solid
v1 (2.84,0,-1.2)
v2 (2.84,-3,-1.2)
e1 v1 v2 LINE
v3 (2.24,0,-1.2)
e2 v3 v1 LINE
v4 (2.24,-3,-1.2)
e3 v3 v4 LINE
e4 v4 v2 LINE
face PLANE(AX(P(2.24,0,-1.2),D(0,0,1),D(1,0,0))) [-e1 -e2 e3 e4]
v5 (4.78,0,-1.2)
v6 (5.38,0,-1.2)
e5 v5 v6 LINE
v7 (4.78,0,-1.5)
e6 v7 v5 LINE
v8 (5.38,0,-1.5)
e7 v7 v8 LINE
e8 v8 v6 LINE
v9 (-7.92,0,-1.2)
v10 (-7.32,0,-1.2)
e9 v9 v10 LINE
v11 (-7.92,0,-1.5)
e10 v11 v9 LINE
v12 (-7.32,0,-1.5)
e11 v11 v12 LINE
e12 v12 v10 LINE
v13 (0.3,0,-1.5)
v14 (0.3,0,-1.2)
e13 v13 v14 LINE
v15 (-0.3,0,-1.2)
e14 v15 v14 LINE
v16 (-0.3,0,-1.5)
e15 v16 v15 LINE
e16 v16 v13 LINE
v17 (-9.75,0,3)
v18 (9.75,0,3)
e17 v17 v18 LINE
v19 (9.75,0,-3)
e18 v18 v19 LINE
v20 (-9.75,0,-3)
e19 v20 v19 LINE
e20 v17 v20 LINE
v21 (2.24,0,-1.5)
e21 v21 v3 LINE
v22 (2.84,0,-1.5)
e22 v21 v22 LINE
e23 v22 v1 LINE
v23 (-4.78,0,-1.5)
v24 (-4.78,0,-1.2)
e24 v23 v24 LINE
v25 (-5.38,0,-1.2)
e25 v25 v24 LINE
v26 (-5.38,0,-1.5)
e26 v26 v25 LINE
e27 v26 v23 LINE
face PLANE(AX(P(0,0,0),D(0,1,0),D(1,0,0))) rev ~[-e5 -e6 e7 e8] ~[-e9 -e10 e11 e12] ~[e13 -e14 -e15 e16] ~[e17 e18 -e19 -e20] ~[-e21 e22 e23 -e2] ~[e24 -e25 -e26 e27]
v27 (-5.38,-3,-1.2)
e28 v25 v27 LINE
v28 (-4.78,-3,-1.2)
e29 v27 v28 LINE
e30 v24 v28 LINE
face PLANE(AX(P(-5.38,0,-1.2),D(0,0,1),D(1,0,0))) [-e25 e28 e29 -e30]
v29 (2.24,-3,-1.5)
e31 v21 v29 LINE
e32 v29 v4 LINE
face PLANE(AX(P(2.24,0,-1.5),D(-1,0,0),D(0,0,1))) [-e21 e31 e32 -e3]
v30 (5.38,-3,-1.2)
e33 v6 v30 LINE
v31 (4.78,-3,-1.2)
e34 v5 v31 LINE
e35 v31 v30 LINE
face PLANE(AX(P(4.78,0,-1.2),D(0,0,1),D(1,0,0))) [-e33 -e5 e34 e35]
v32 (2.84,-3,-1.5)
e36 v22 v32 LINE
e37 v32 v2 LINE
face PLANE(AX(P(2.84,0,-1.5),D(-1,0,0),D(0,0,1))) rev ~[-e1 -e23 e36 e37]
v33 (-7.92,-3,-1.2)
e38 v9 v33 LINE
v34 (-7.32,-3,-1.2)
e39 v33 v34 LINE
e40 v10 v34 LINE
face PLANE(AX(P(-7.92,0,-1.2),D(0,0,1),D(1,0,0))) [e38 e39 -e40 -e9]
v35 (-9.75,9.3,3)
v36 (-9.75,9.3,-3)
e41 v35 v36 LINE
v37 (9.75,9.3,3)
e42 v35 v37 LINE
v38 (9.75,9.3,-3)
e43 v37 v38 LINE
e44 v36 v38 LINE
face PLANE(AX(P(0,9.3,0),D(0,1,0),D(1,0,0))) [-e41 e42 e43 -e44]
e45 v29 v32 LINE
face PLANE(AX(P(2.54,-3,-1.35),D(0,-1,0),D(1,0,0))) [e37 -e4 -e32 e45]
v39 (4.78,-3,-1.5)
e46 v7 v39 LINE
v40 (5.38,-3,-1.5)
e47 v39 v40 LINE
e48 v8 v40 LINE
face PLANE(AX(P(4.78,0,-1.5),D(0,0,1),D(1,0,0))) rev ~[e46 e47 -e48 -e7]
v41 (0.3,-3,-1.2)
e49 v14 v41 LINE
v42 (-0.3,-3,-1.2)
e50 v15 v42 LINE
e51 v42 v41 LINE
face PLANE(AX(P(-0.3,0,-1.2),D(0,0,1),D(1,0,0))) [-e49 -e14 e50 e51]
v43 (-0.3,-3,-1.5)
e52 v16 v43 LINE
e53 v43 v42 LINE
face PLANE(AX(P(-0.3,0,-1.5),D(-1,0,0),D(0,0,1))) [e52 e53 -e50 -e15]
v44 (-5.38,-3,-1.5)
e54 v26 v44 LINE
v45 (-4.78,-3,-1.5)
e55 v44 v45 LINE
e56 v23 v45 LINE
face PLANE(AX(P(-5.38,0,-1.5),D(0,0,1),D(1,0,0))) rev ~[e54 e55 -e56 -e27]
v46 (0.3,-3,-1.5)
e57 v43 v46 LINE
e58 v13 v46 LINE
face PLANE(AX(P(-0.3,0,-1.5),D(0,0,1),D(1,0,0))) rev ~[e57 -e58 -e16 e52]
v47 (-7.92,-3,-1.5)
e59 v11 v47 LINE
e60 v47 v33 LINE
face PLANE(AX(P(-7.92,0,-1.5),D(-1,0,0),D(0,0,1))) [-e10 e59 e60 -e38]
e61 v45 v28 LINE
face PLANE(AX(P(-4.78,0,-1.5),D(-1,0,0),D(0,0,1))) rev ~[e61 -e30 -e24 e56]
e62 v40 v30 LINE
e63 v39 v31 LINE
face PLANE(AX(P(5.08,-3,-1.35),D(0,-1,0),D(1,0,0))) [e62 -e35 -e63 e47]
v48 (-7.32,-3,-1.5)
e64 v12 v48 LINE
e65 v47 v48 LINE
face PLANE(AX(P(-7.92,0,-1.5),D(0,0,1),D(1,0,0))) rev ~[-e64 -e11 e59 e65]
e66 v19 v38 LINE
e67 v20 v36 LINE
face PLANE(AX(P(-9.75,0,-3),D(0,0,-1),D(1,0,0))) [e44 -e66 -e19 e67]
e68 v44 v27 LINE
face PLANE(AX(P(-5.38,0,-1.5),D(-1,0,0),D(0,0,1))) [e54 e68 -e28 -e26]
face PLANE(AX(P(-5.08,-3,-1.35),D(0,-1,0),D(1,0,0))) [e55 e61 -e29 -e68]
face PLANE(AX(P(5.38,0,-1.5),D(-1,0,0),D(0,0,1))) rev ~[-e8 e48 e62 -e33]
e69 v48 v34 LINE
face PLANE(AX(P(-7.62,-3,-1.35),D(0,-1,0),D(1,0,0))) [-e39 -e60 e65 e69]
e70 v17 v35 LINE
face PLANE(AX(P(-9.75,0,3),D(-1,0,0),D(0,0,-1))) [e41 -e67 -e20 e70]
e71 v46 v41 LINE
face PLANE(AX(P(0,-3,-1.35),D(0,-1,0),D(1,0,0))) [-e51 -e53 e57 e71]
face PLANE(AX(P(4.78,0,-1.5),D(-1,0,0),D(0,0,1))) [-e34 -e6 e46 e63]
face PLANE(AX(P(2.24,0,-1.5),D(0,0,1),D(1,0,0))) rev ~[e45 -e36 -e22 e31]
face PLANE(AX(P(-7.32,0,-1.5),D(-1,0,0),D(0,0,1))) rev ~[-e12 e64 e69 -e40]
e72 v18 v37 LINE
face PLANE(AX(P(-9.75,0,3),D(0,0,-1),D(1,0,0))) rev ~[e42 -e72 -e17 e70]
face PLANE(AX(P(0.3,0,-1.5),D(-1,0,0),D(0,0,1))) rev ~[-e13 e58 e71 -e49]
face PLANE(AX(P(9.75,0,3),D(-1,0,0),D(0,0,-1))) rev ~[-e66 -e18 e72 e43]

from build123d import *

# Parameters (mm, degrees)
SKETCH_1_W      = 19.5
SKETCH_1_H      = 6
EXTRUDE_1_DEPTH = 9.3
SKETCH_2_W      = 0.6
SKETCH_2_H      = 0.3
EXTRUDE_2_DEPTH = 3
EXTRUDE_3_DEPTH = 0.2


with BuildPart() as part:
    # Эскиз1 → Бобышка-Вытянуть1 (new body)
    with BuildSketch(Plane(origin=(0, 0, 0), x_dir=(1, 0, 0), z_dir=(0, 1, 0))):
        Rectangle(SKETCH_1_W, SKETCH_1_H)
    extrude(amount=EXTRUDE_1_DEPTH)

    # Эскиз2 → Бобышка-Вытянуть2 (add)
    with BuildSketch(Plane.XZ):
        with Locations((-7.62, -1.35)):
            Rectangle(SKETCH_2_W, SKETCH_2_H)
        with Locations((-5.08, -1.35)):
            Rectangle(SKETCH_2_W, SKETCH_2_H)
        with Locations((0, -1.35)):
            Rectangle(SKETCH_2_W, SKETCH_2_H)
        with Locations((2.54, -1.35)):
            Rectangle(SKETCH_2_W, SKETCH_2_H)
        with Locations((5.08, -1.35)):
            Rectangle(SKETCH_2_W, SKETCH_2_H)
    extrude(amount=EXTRUDE_2_DEPTH)

    # Эскиз3 → Бобышка-Вытянуть3 (add)
    with BuildSketch(Plane(origin=(0, 9.3, 0), x_dir=(1, 0, 0), z_dir=(0, 1, 0))):
        with BuildLine():
            Line((-5.993653669, -1.1506083), (-5.993653669, 1.495225034))
            Line((-5.993653669, 1.495225034), (-5.726526265, 1.495225034))
            add(Edge.make_bspline(
                [(-5.726526265, 1.495225034), (-5.703199399, 1.494894605), (-5.65827213, 1.494258204), (-5.593328368, 1.490121291), (-5.533294043, 1.482863062), (-5.478257825, 1.472268509), (-5.427978548, 1.459234752), (-5.382722262, 1.442777118), (-5.342163377, 1.423550544), (-5.318249105, 1.407525081), (-5.30675463, 1.39982239)],
                knots=[0, 0, 0, 0, 6.998e-05, 0.000134781, 0.00019513, 0.000251262, 0.000302815, 0.000350769, 0.00039557, 0.000437033, 0.000437033, 0.000437033, 0.000437033], degree=3))
            add(Edge.make_bspline(
                [(-5.30675463, 1.39982239), (-5.291259723, 1.387980041), (-5.259666671, 1.363834307), (-5.216878942, 1.320049614), (-5.176018095, 1.270953839), (-5.138198125, 1.215037198), (-5.103093917, 1.153229673), (-5.069860634, 1.085379539), (-5.040008142, 1.011214307), (-5.012613306, 0.931196499), (-4.987736933, 0.846373762), (-4.966676113, 0.756972928), (-4.948733764, 0.663775398), (-4.933891633, 0.566532567), (-4.922334069, 0.465223791), (-4.913792213, 0.359881256), (-4.909099881, 0.250617555), (-4.908492313, 0.176552723), (-4.908183583, 0.138917442)],
                knots=[0, 0, 0, 0, 5.8439e-05, 0.000119153, 0.000183146, 0.000249888, 0.000321348, 0.000396253, 0.000476369, 0.000561014, 0.000649908, 0.00074144, 0.000836447, 0.000934568, 0.00103647, 0.001142284, 0.001251571, 0.001364475, 0.001364475, 0.001364475, 0.001364475], degree=3))
            add(Edge.make_bspline(
                [(-4.908183583, 0.138917442), (-4.908280711, 0.106227192), (-4.908471905, 0.041877192), (-4.913150802, -0.053011126), (-4.919308515, -0.144931602), (-4.928055359, -0.233911091), (-4.940620124, -0.319900369), (-4.954621979, -0.403063397), (-4.971578805, -0.483169429), (-4.991199381, -0.559859585), (-5.012673437, -0.632560972), (-5.036144523, -0.700772196), (-5.060756945, -0.763964681), (-5.08687661, -0.822459494), (-5.11469083, -0.875845291), (-5.14459931, -0.924137506), (-5.175194817, -0.968146848), (-5.208238178, -1.00695942), (-5.243405122, -1.041684613), (-5.282312993, -1.070675465), (-5.324207669, -1.095483025), (-5.369598006, -1.115586755), (-5.418401512, -1.131573487), (-5.470683253, -1.142394162), (-5.525977989, -1.149628644), (-5.56396405, -1.150276458), (-5.583422299, -1.1506083)],
                knots=[0, 0, 0, 0, 9.8058e-05, 0.000193026, 0.000284939, 0.000374436, 0.000461159, 0.000545593, 0.000627403, 0.000706717, 0.000783019, 0.000854758, 0.000923064, 0.000986404, 0.001046858, 0.001103491, 0.001156725, 0.001207487, 0.001256214, 0.001304658, 0.001352653, 0.001402001, 0.001453289, 0.00150641, 0.00156196, 0.0016203, 0.0016203, 0.0016203, 0.0016203], degree=3))
            Line((-5.583422299, -1.1506083), (-5.993653669, -1.1506083))
        make_face()
        with BuildLine():
            Line((-5.857969908, -0.879240778), (-5.712215868, -0.879240778))
            add(Edge.make_bspline(
                [(-5.712215868, -0.879240778), (-5.691187559, -0.879056917), (-5.650871591, -0.878704415), (-5.592868926, -0.875504605), (-5.539970165, -0.870356677), (-5.491975474, -0.863079212), (-5.449019914, -0.853425769), (-5.410665043, -0.842750873), (-5.377422356, -0.829210676), (-5.358215906, -0.817468128), (-5.349155806, -0.811928913)],
                knots=[0, 0, 0, 0, 6.3081e-05, 0.00012094, 0.000174206, 0.000222481, 0.000266459, 0.00030621, 0.000341843, 0.000373662, 0.000373662, 0.000373662, 0.000373662], degree=3))
            add(Edge.make_bspline(
                [(-5.349155806, -0.811928913), (-5.337504042, -0.803307558), (-5.313789347, -0.785760618), (-5.280583663, -0.754767955), (-5.250258232, -0.718316423), (-5.220506136, -0.67810954), (-5.194552767, -0.631854361), (-5.168983681, -0.581836894), (-5.145554456, -0.526783834), (-5.124665533, -0.467032902), (-5.105604787, -0.403212154), (-5.089398291, -0.335730556), (-5.074936985, -0.265071796), (-5.063189934, -0.190820741), (-5.055092671, -0.112940991), (-5.048787041, -0.03182255), (-5.044151944, 0.052648833), (-5.043963526, 0.110113423), (-5.043867344, 0.139447456)],
                knots=[0, 0, 0, 0, 4.3464e-05, 8.8463e-05, 0.000135833, 0.000185556, 0.000238281, 0.000294694, 0.000354058, 0.000417592, 0.000484502, 0.00055379, 0.00062572, 0.000700832, 0.000779205, 0.000860546, 0.000944925, 0.001032914, 0.001032914, 0.001032914, 0.001032914], degree=3))
            add(Edge.make_bspline(
                [(-5.043867344, 0.139447456), (-5.044257686, 0.170367783), (-5.045023027, 0.230993015), (-5.04851762, 0.320105791), (-5.055303295, 0.405703496), (-5.065721936, 0.487818585), (-5.0773982, 0.566813362), (-5.093024206, 0.642256147), (-5.110894459, 0.714268364), (-5.131375406, 0.782633857), (-5.154756204, 0.846351158), (-5.179273421, 0.905648959), (-5.207154577, 0.959280213), (-5.236388534, 1.0081843), (-5.26864597, 1.051395115), (-5.302252635, 1.09000415), (-5.339137971, 1.122477508), (-5.365409332, 1.140706418), (-5.378306614, 1.149655456)],
                knots=[0, 0, 0, 0, 9.2766e-05, 0.000181886, 0.000267496, 0.000350263, 0.000430171, 0.000506986, 0.000581287, 0.000652715, 0.000720955, 0.000784843, 0.000845053, 0.000902138, 0.000955564, 0.001006622, 0.001055435, 0.001102508, 0.001102508, 0.001102508, 0.001102508], degree=3))
            add(Edge.make_bspline(
                [(-5.378306614, 1.149655456), (-5.388955984, 1.155743208), (-5.411039459, 1.168367307), (-5.448391882, 1.183007997), (-5.490098558, 1.195464632), (-5.536608314, 1.206268717), (-5.588034553, 1.213841748), (-5.644095768, 1.219565094), (-5.704918011, 1.223470072), (-5.747013657, 1.223724871), (-5.76892744, 1.223857512)],
                knots=[0, 0, 0, 0, 3.6759e-05, 7.6226e-05, 0.000119987, 0.000167301, 0.000219323, 0.000275807, 0.000336342, 0.000402072, 0.000402072, 0.000402072, 0.000402072], degree=3))
            Line((-5.76892744, 1.223857512), (-5.857969908, 1.223857512))
            Line((-5.857969908, 1.223857512), (-5.857969908, -0.879240778))
        make_face(mode=Mode.SUBTRACT)
        with BuildLine():
            Line((-3.415662216, 1.009731578), (-3.519545095, 0.850727171))
            add(Edge.make_bspline(
                [(-3.519545095, 0.850727171), (-3.534179354, 0.884905992), (-3.562170932, 0.950281296), (-3.611133312, 1.040000729), (-3.665533305, 1.116106536), (-3.72384652, 1.179351808), (-3.785927203, 1.2295169), (-3.851769423, 1.265264449), (-3.920886372, 1.287938638), (-3.968476618, 1.290444177), (-3.992318199, 1.291699393)],
                knots=[0, 0, 0, 0, 0.000111505, 0.00021328, 0.000305946, 0.000391448, 0.000470663, 0.000544181, 0.000615258, 0.000686614, 0.000686614, 0.000686614, 0.000686614], degree=3))
            add(Edge.make_bspline(
                [(-3.992318199, 1.291699393), (-4.005431836, 1.291384283), (-4.03169845, 1.290753119), (-4.070396571, 1.282732829), (-4.108512905, 1.271147784), (-4.145817601, 1.254474313), (-4.182279862, 1.233158987), (-4.218304257, 1.207461497), (-4.252957775, 1.176608367), (-4.299075833, 1.128977162), (-4.352642098, 1.059690199), (-4.408114943, 0.964195578), (-4.457114694, 0.856544197), (-4.497127403, 0.73650285), (-4.529213424, 0.606387938), (-4.552370998, 0.467849217), (-4.566279092, 0.321350851), (-4.568060213, 0.221100812), (-4.568974182, 0.169658294)],
                knots=[0, 0, 0, 0, 3.9278e-05, 7.8675e-05, 0.000118071, 0.000158647, 0.000200919, 0.000244603, 0.000291171, 0.000339898, 0.000443375, 0.000552908, 0.000670553, 0.000797599, 0.000931932, 0.001072217, 0.001218621, 0.001372929, 0.001372929, 0.001372929, 0.001372929], degree=3))
            add(Edge.make_bspline(
                [(-4.568974182, 0.169658294), (-4.568505048, 0.130597956), (-4.567586992, 0.054160166), (-4.559240598, -0.057952809), (-4.546936059, -0.165048085), (-4.528789063, -0.267326934), (-4.505707102, -0.364750482), (-4.477047103, -0.45737923), (-4.443102256, -0.544809514), (-4.404897438, -0.626691155), (-4.362284373, -0.700931952), (-4.317155352, -0.766581502), (-4.268464955, -0.821815298), (-4.217519197, -0.867484278), (-4.163381985, -0.903364651), (-4.106076555, -0.928124148), (-4.046251249, -0.944766536), (-4.0051504, -0.946304829), (-3.984367978, -0.947082659)],
                knots=[0, 0, 0, 0, 0.000117163, 0.000229279, 0.000337095, 0.000440441, 0.000540713, 0.000637275, 0.000731075, 0.000821883, 0.000908068, 0.000987615, 0.00106046, 0.00112842, 0.001192368, 0.001254309, 0.001315115, 0.00137731, 0.00137731, 0.00137731, 0.00137731], degree=3))
            add(Edge.make_bspline(
                [(-3.984367978, -0.947082659), (-3.961591638, -0.945772388), (-3.91597232, -0.943148013), (-3.849479838, -0.921072886), (-3.786097826, -0.886024876), (-3.72623861, -0.836482885), (-3.669438198, -0.773568722), (-3.615488809, -0.697122197), (-3.564594685, -0.606919476), (-3.53506219, -0.540833581), (-3.519545095, -0.506110436)],
                knots=[0, 0, 0, 0, 6.8191e-05, 0.000136581, 0.000207984, 0.00028447, 0.000368503, 0.0004616, 0.000564616, 0.000678669, 0.000678669, 0.000678669, 0.000678669], degree=3))
            Line((-3.519545095, -0.506110436), (-3.415662216, -0.663524799))
            add(Edge.make_bspline(
                [(-3.415662216, -0.663524799), (-3.423957596, -0.684978718), (-3.440269776, -0.727166079), (-3.467335967, -0.787728881), (-3.495194986, -0.84501035), (-3.525867748, -0.89780762), (-3.556548419, -0.947988701), (-3.590310996, -0.993379854), (-3.624691432, -1.035567179), (-3.660650472, -1.073847065), (-3.698141543, -1.107588466), (-3.736619231, -1.137280461), (-3.77637805, -1.161955477), (-3.816885086, -1.183164813), (-3.85890478, -1.199070077), (-3.902132842, -1.210062204), (-3.946310126, -1.217400972), (-3.976211705, -1.218098955), (-3.991258169, -1.21845018)],
                knots=[0, 0, 0, 0, 6.8994e-05, 0.00013567, 0.000198958, 0.000259965, 0.000318787, 0.00037529, 0.000429512, 0.000482002, 0.000532665, 0.000580686, 0.000627598, 0.000672873, 0.000717662, 0.000762012, 0.00080654, 0.000851641, 0.000851641, 0.000851641, 0.000851641], degree=3))
            add(Edge.make_bspline(
                [(-3.991258169, -1.21845018), (-4.019498028, -1.217044905), (-4.0752501, -1.214270565), (-4.156243448, -1.191380627), (-4.232478086, -1.154894405), (-4.303933806, -1.103497233), (-4.369809131, -1.03705277), (-4.431329731, -0.956814193), (-4.488334905, -0.862118671), (-4.520381829, -0.792319622), (-4.5371733, -0.755747355)],
                knots=[0, 0, 0, 0, 8.4598e-05, 0.000167017, 0.000250464, 0.000337091, 0.000429662, 0.000530164, 0.000639786, 0.000760445, 0.000760445, 0.000760445, 0.000760445], degree=3))
            add(Edge.make_bspline(
                [(-4.5371733, -0.755747355), (-4.550705935, -0.722524172), (-4.578175766, -0.655084593), (-4.611354565, -0.549272101), (-4.641067127, -0.438918067), (-4.663731428, -0.323171427), (-4.682780542, -0.202666631), (-4.694840811, -0.076988272), (-4.7032721, 0.053646598), (-4.704190154, 0.142436449), (-4.704657942, 0.187678793)],
                knots=[0, 0, 0, 0, 0.000107577, 0.000218371, 0.000332403, 0.000450276, 0.000572011, 0.000698267, 0.000828893, 0.000964602, 0.000964602, 0.000964602, 0.000964602], degree=3))
            add(Edge.make_bspline(
                [(-4.704657942, 0.187678793), (-4.704071921, 0.235219874), (-4.702922615, 0.328457448), (-4.693182896, 0.465378871), (-4.677450347, 0.596485968), (-4.655352591, 0.721825733), (-4.626464582, 0.841351733), (-4.592607123, 0.955511927), (-4.550817993, 1.063548764), (-4.503763829, 1.164964211), (-4.452114913, 1.257588782), (-4.39660512, 1.338869898), (-4.33732567, 1.407454084), (-4.27538001, 1.464439326), (-4.209548403, 1.508797556), (-4.140164332, 1.539888447), (-4.067577761, 1.559396918), (-4.017878723, 1.561837656), (-3.992848213, 1.563066914)],
                knots=[0, 0, 0, 0, 0.000142609, 0.000279686, 0.000411561, 0.00053861, 0.00066125, 0.000780297, 0.000895559, 0.001008427, 0.001115455, 0.00121337, 0.001303168, 0.001386845, 0.001465196, 0.00154016, 0.001614078, 0.00168908, 0.00168908, 0.00168908, 0.00168908], degree=3))
            add(Edge.make_bspline(
                [(-3.992848213, 1.563066914), (-3.977627939, 1.562703678), (-3.947380615, 1.561981816), (-3.902594067, 1.554813267), (-3.859097397, 1.543179618), (-3.816832763, 1.526858437), (-3.775181493, 1.507110913), (-3.73550092, 1.4809088), (-3.696205136, 1.451551931), (-3.658548924, 1.417201519), (-3.62206409, 1.379288724), (-3.587540342, 1.337134575), (-3.554988139, 1.291302038), (-3.522540397, 1.242799461), (-3.494096057, 1.189331801), (-3.46554633, 1.133068857), (-3.43918824, 1.072902791), (-3.423587095, 1.031011171), (-3.415662216, 1.009731578)],
                knots=[0, 0, 0, 0, 4.5631e-05, 9.0682e-05, 0.00013568, 0.000180469, 0.000226455, 0.00027365, 0.000322836, 0.000373499, 0.000426354, 0.000480576, 0.000536768, 0.000594983, 0.000655472, 0.000718285, 0.000784263, 0.000852377, 0.000852377, 0.000852377, 0.000852377], degree=3))
        make_face()
        with BuildLine():
            Line((-1.448247686, 1.009731578), (-1.552130565, 0.850727171))
            add(Edge.make_bspline(
                [(-1.552130565, 0.850727171), (-1.566764824, 0.884905992), (-1.594756402, 0.950281296), (-1.643718782, 1.040000729), (-1.698118775, 1.116106536), (-1.75643199, 1.179351808), (-1.818512673, 1.2295169), (-1.884354893, 1.265264449), (-1.953471842, 1.287938638), (-2.001062088, 1.290444177), (-2.024903669, 1.291699393)],
                knots=[0, 0, 0, 0, 0.000111505, 0.00021328, 0.000305946, 0.000391448, 0.000470663, 0.000544181, 0.000615258, 0.000686614, 0.000686614, 0.000686614, 0.000686614], degree=3))
            add(Edge.make_bspline(
                [(-2.024903669, 1.291699393), (-2.038017306, 1.291384283), (-2.06428392, 1.290753119), (-2.102982041, 1.282732829), (-2.141098375, 1.271147784), (-2.178403071, 1.254474313), (-2.214865332, 1.233158987), (-2.250889728, 1.207461497), (-2.285543246, 1.176608367), (-2.331661303, 1.128977162), (-2.385227568, 1.059690199), (-2.440700413, 0.964195578), (-2.489700164, 0.856544197), (-2.529712873, 0.73650285), (-2.561798894, 0.606387938), (-2.584956468, 0.467849217), (-2.598864562, 0.321350851), (-2.600645683, 0.221100812), (-2.601559652, 0.169658294)],
                knots=[0, 0, 0, 0, 3.9278e-05, 7.8675e-05, 0.000118071, 0.000158647, 0.000200919, 0.000244603, 0.000291171, 0.000339898, 0.000443375, 0.000552908, 0.000670553, 0.000797599, 0.000931932, 0.001072217, 0.001218621, 0.001372929, 0.001372929, 0.001372929, 0.001372929], degree=3))
            add(Edge.make_bspline(
                [(-2.601559652, 0.169658294), (-2.601090518, 0.130597956), (-2.600172462, 0.054160166), (-2.591826069, -0.057952809), (-2.579521529, -0.165048085), (-2.561374533, -0.267326934), (-2.538292572, -0.364750482), (-2.509632573, -0.45737923), (-2.475687726, -0.544809514), (-2.437482908, -0.626691155), (-2.394869843, -0.700931952), (-2.349740822, -0.766581502), (-2.301050425, -0.821815298), (-2.250104667, -0.867484278), (-2.195967455, -0.903364651), (-2.138662025, -0.928124148), (-2.078836719, -0.944766536), (-2.03773587, -0.946304829), (-2.016953448, -0.947082659)],
                knots=[0, 0, 0, 0, 0.000117163, 0.000229279, 0.000337095, 0.000440441, 0.000540713, 0.000637275, 0.000731075, 0.000821883, 0.000908068, 0.000987615, 0.00106046, 0.00112842, 0.001192368, 0.001254309, 0.001315115, 0.00137731, 0.00137731, 0.00137731, 0.00137731], degree=3))
            add(Edge.make_bspline(
                [(-2.016953448, -0.947082659), (-1.994177108, -0.945772388), (-1.94855779, -0.943148013), (-1.882065308, -0.921072886), (-1.818683296, -0.886024876), (-1.75882408, -0.836482885), (-1.702023668, -0.773568722), (-1.648074279, -0.697122197), (-1.597180155, -0.606919476), (-1.56764766, -0.540833581), (-1.552130565, -0.506110436)],
                knots=[0, 0, 0, 0, 6.8191e-05, 0.000136581, 0.000207984, 0.00028447, 0.000368503, 0.0004616, 0.000564616, 0.000678669, 0.000678669, 0.000678669, 0.000678669], degree=3))
            Line((-1.552130565, -0.506110436), (-1.448247686, -0.663524799))
            add(Edge.make_bspline(
                [(-1.448247686, -0.663524799), (-1.456543066, -0.684978718), (-1.472855246, -0.727166079), (-1.499921437, -0.787728881), (-1.527780456, -0.84501035), (-1.558453218, -0.89780762), (-1.589133889, -0.947988701), (-1.622896466, -0.993379854), (-1.657276903, -1.035567179), (-1.693235942, -1.073847065), (-1.730727013, -1.107588466), (-1.769204701, -1.137280461), (-1.80896352, -1.161955477), (-1.849470556, -1.183164813), (-1.89149025, -1.199070077), (-1.934718312, -1.210062204), (-1.978895596, -1.217400972), (-2.008797175, -1.218098955), (-2.023843639, -1.21845018)],
                knots=[0, 0, 0, 0, 6.8994e-05, 0.00013567, 0.000198958, 0.000259965, 0.000318787, 0.00037529, 0.000429512, 0.000482002, 0.000532665, 0.000580686, 0.000627598, 0.000672873, 0.000717662, 0.000762012, 0.00080654, 0.000851641, 0.000851641, 0.000851641, 0.000851641], degree=3))
            add(Edge.make_bspline(
                [(-2.023843639, -1.21845018), (-2.052083499, -1.217044905), (-2.10783557, -1.214270565), (-2.188828918, -1.191380627), (-2.265063556, -1.154894405), (-2.336519276, -1.103497233), (-2.402394601, -1.03705277), (-2.463915201, -0.956814193), (-2.520920375, -0.862118671), (-2.552967299, -0.792319622), (-2.56975877, -0.755747355)],
                knots=[0, 0, 0, 0, 8.4598e-05, 0.000167017, 0.000250464, 0.000337091, 0.000429662, 0.000530164, 0.000639786, 0.000760445, 0.000760445, 0.000760445, 0.000760445], degree=3))
            add(Edge.make_bspline(
                [(-2.56975877, -0.755747355), (-2.583291406, -0.722524172), (-2.610761236, -0.655084593), (-2.643940035, -0.549272101), (-2.673652597, -0.438918067), (-2.696316898, -0.323171427), (-2.715366012, -0.202666631), (-2.727426281, -0.076988272), (-2.73585757, 0.053646598), (-2.736775624, 0.142436449), (-2.737243412, 0.187678793)],
                knots=[0, 0, 0, 0, 0.000107577, 0.000218371, 0.000332403, 0.000450276, 0.000572011, 0.000698267, 0.000828893, 0.000964602, 0.000964602, 0.000964602, 0.000964602], degree=3))
            add(Edge.make_bspline(
                [(-2.737243412, 0.187678793), (-2.736657391, 0.235219874), (-2.735508085, 0.328457448), (-2.725768366, 0.465378871), (-2.710035817, 0.596485968), (-2.687938062, 0.721825733), (-2.659050052, 0.841351733), (-2.625192593, 0.955511927), (-2.583403463, 1.063548764), (-2.536349299, 1.164964211), (-2.484700383, 1.257588782), (-2.42919059, 1.338869898), (-2.36991114, 1.407454084), (-2.307965481, 1.464439326), (-2.242133873, 1.508797556), (-2.172749802, 1.539888447), (-2.100163231, 1.559396918), (-2.050464193, 1.561837656), (-2.025433684, 1.563066914)],
                knots=[0, 0, 0, 0, 0.000142609, 0.000279686, 0.000411561, 0.00053861, 0.00066125, 0.000780297, 0.000895559, 0.001008427, 0.001115455, 0.00121337, 0.001303168, 0.001386845, 0.001465196, 0.00154016, 0.001614078, 0.00168908, 0.00168908, 0.00168908, 0.00168908], degree=3))
            add(Edge.make_bspline(
                [(-2.025433684, 1.563066914), (-2.010213409, 1.562703678), (-1.979966085, 1.561981816), (-1.935179537, 1.554813267), (-1.891682868, 1.543179618), (-1.849418233, 1.526858437), (-1.807766963, 1.507110913), (-1.76808639, 1.4809088), (-1.728790606, 1.451551931), (-1.691134394, 1.417201519), (-1.65464956, 1.379288724), (-1.620125812, 1.337134575), (-1.587573609, 1.291302038), (-1.555125867, 1.242799461), (-1.526681527, 1.189331801), (-1.4981318, 1.133068857), (-1.47177371, 1.072902791), (-1.456172565, 1.031011171), (-1.448247686, 1.009731578)],
                knots=[0, 0, 0, 0, 4.5631e-05, 9.0682e-05, 0.00013568, 0.000180469, 0.000226455, 0.00027365, 0.000322836, 0.000373499, 0.000426354, 0.000480576, 0.000536768, 0.000594983, 0.000655472, 0.000718285, 0.000784263, 0.000852377, 0.000852377, 0.000852377, 0.000852377], degree=3))
        make_face()
        with BuildLine():
            add(Edge.make_bspline(
                [(-0.786259338, 0.81680623), (-0.768295824, 0.81600169), (-0.732566431, 0.81440146), (-0.680834558, 0.797931704), (-0.631820933, 0.772336496), (-0.584557205, 0.737517515), (-0.540776603, 0.69167794), (-0.499317995, 0.636359406), (-0.460000564, 0.571323038), (-0.437251962, 0.523403355), (-0.425319334, 0.498267402)],
                knots=[0, 0, 0, 0, 5.3744e-05, 0.000106896, 0.00016118, 0.000219166, 0.000282133, 0.000350611, 0.000426238, 0.000509673, 0.000509673, 0.000509673, 0.000509673], degree=3))
            add(Edge.make_bspline(
                [(-0.425319334, 0.498267402), (-0.414728297, 0.473668234), (-0.393285396, 0.423864093), (-0.367227345, 0.345950642), (-0.344949151, 0.264885756), (-0.326032015, 0.180605301), (-0.313037159, 0.092656107), (-0.301778331, 0.001715256), (-0.296325548, -0.092631811), (-0.295403832, -0.15664916), (-0.29493572, -0.189161652)],
                knots=[0, 0, 0, 0, 8.0318e-05, 0.000162614, 0.000246195, 0.000332485, 0.00042154, 0.00051279, 0.000607313, 0.000704858, 0.000704858, 0.000704858, 0.000704858], degree=3))
            add(Edge.make_bspline(
                [(-0.29493572, -0.189161652), (-0.295349578, -0.221853946), (-0.296164678, -0.286241839), (-0.302406615, -0.381280091), (-0.313947295, -0.473153634), (-0.328136117, -0.562148356), (-0.348363023, -0.647748537), (-0.37105115, -0.730502442), (-0.399616521, -0.809793204), (-0.431334519, -0.885135131), (-0.466002773, -0.954682557), (-0.504376532, -1.015419427), (-0.54439823, -1.067563046), (-0.587749138, -1.110045823), (-0.633497994, -1.143475031), (-0.68201447, -1.167387439), (-0.73332845, -1.181735338), (-0.768503084, -1.183591994), (-0.786259338, -1.18452924)],
                knots=[0, 0, 0, 0, 9.8076e-05, 0.000193161, 0.000285527, 0.000375798, 0.000463354, 0.000549262, 0.000633082, 0.000715969, 0.000794428, 0.000865891, 0.000931204, 0.000991173, 0.001047364, 0.001100461, 0.001152664, 0.00120588, 0.00120588, 0.00120588, 0.00120588], degree=3))
            add(Edge.make_bspline(
                [(-0.786259338, -1.18452924), (-0.804011064, -1.183573351), (-0.839347322, -1.181670576), (-0.890886446, -1.167497137), (-0.939563391, -1.143481638), (-0.985339642, -1.109901724), (-1.029169741, -1.067601137), (-1.069769751, -1.015582232), (-1.108089348, -0.954665248), (-1.142724365, -0.885122221), (-1.174700554, -0.80992249), (-1.202146645, -0.73027545), (-1.226196077, -0.647953081), (-1.244970492, -0.561981879), (-1.260604899, -0.473275738), (-1.270903559, -0.381222106), (-1.277484843, -0.286251606), (-1.278252974, -0.221857236), (-1.278642985, -0.189161652)],
                knots=[0, 0, 0, 0, 5.3216e-05, 0.00010593, 0.000159027, 0.000215219, 0.000275568, 0.000341209, 0.000412672, 0.000491131, 0.000574018, 0.000657661, 0.000743715, 0.000831155, 0.000921514, 0.001013817, 0.001108903, 0.001206978, 0.001206978, 0.001206978, 0.001206978], degree=3))
            add(Edge.make_bspline(
                [(-1.278642985, -0.189161652), (-1.278178442, -0.156824813), (-1.277261294, -0.092982179), (-1.271726731, 0.001172955), (-1.260822889, 0.092024459), (-1.246682351, 0.179421159), (-1.228663621, 0.263684197), (-1.206507249, 0.344591254), (-1.180178476, 0.422410198), (-1.158834277, 0.472072399), (-1.148259371, 0.496677358)],
                knots=[0, 0, 0, 0, 9.7016e-05, 0.000191538, 0.000282789, 0.000371404, 0.000457064, 0.000541156, 0.00062295, 0.000703268, 0.000703268, 0.000703268, 0.000703268], degree=3))
            add(Edge.make_bspline(
                [(-1.148259371, 0.496677358), (-1.136349283, 0.522002036), (-1.113704774, 0.570151549), (-1.074129905, 0.635502295), (-1.032470577, 0.691022688), (-0.988335287, 0.736710879), (-0.941784971, 0.772713123), (-0.892146266, 0.797870409), (-0.840124761, 0.814365676), (-0.804223805, 0.81599229), (-0.786259338, 0.81680623)],
                knots=[0, 0, 0, 0, 8.391e-05, 0.000159537, 0.000228758, 0.000291725, 0.000349604, 0.000404359, 0.000458019, 0.000511763, 0.000511763, 0.000511763, 0.000511763], degree=3))
        make_face()
        with BuildLine():
            add(Edge.make_bspline(
                [(-0.786789353, 0.579359649), (-0.798886218, 0.578626652), (-0.82301766, 0.577164431), (-0.858223157, 0.565790098), (-0.891985195, 0.54813109), (-0.924214219, 0.522841727), (-0.955425443, 0.491122233), (-0.984444916, 0.45166165), (-1.012618435, 0.40574868), (-1.03916386, 0.353446946), (-1.063119203, 0.295895135), (-1.08500333, 0.23517698), (-1.103007324, 0.171409901), (-1.117135786, 0.10458493), (-1.128804156, 0.034930636), (-1.137341087, -0.03775207), (-1.142056769, -0.113305513), (-1.142654463, -0.164597934), (-1.142959224, -0.190751696)],
                knots=[0, 0, 0, 0, 3.6231e-05, 7.2276e-05, 0.000109971, 0.000150042, 0.000194642, 0.000243086, 0.000296628, 0.000356124, 0.000418829, 0.000483539, 0.000549644, 0.000617424, 0.000688351, 0.000761457, 0.00083687, 0.000915328, 0.000915328, 0.000915328, 0.000915328], degree=3))
            add(Edge.make_bspline(
                [(-1.142959224, -0.190751696), (-1.142326427, -0.224516359), (-1.141078433, -0.291106612), (-1.131865071, -0.389182871), (-1.117149789, -0.483748531), (-1.096763284, -0.57357852), (-1.071413696, -0.656915723), (-1.040686032, -0.730903139), (-1.007123923, -0.795724965), (-0.968484024, -0.849369276), (-0.926864889, -0.892616434), (-0.88217378, -0.923391467), (-0.835469388, -0.943959249), (-0.80288704, -0.946049798), (-0.786789353, -0.947082659)],
                knots=[0, 0, 0, 0, 0.000101283, 0.000199749, 0.000295251, 0.000388211, 0.000475888, 0.000556206, 0.000628288, 0.000694338, 0.000753929, 0.000807295, 0.000856506, 0.000904562, 0.000904562, 0.000904562, 0.000904562], degree=3))
            add(Edge.make_bspline(
                [(-0.786789353, -0.947082659), (-0.77069017, -0.946051352), (-0.738104797, -0.943963948), (-0.691424169, -0.923371461), (-0.646733496, -0.892772774), (-0.605620341, -0.849183125), (-0.567073213, -0.795601378), (-0.532659256, -0.731179148), (-0.50286572, -0.656761062), (-0.477438741, -0.573529964), (-0.456264431, -0.483823389), (-0.441761172, -0.389172967), (-0.432487835, -0.291109204), (-0.431248093, -0.224517231), (-0.430619481, -0.190751696)],
                knots=[0, 0, 0, 0, 4.8056e-05, 9.7268e-05, 0.000150634, 0.000209853, 0.000275903, 0.000348236, 0.000428353, 0.00051603, 0.000609109, 0.000704611, 0.000803077, 0.00090436, 0.00090436, 0.00090436, 0.00090436], degree=3))
            add(Edge.make_bspline(
                [(-0.430619481, -0.190751696), (-0.430925486, -0.16459819), (-0.431525619, -0.11330627), (-0.43622373, -0.037749215), (-0.444824287, 0.034920411), (-0.456272696, 0.104658662), (-0.471208982, 0.171356384), (-0.489265037, 0.235049505), (-0.51018443, 0.296139923), (-0.535093194, 0.353316751), (-0.561497144, 0.405725377), (-0.589562433, 0.451883468), (-0.619282428, 0.490756408), (-0.649875101, 0.523027156), (-0.68215154, 0.548104718), (-0.715878749, 0.56579737), (-0.750923549, 0.577105458), (-0.774871983, 0.578610634), (-0.786789353, 0.579359649)],
                knots=[0, 0, 0, 0, 7.8458e-05, 0.000153871, 0.000226977, 0.000297904, 0.000365798, 0.000431903, 0.000496436, 0.00055935, 0.000618846, 0.000672388, 0.000721152, 0.000765382, 0.000805454, 0.000843148, 0.000879193, 0.000914897, 0.000914897, 0.000914897, 0.000914897], degree=3))
        make_face(mode=Mode.SUBTRACT)
        with BuildLine():
            Line((-0.057489139, 0.78288529), (0.078194622, 0.78288529))
            Line((0.078194622, 0.78288529), (0.078194622, 0.434135624))
            add(Edge.make_bspline(
                [(0.078194622, 0.434135624), (0.090473003, 0.465415577), (0.113637798, 0.524429355), (0.152949616, 0.604831872), (0.194834574, 0.671538016), (0.238889072, 0.724881992), (0.285305471, 0.765981762), (0.333906321, 0.795133405), (0.385061357, 0.813338806), (0.420090417, 0.815653081), (0.437544582, 0.81680623)],
                knots=[0, 0, 0, 0, 0.000100786, 0.000190147, 0.000268074, 0.000336546, 0.000397026, 0.00045311, 0.000505739, 0.000558007, 0.000558007, 0.000558007, 0.000558007], degree=3))
            add(Edge.make_bspline(
                [(0.437544582, 0.81680623), (0.455045862, 0.815427277), (0.490332639, 0.812646977), (0.541313346, 0.791060513), (0.58784322, 0.755227665), (0.630597175, 0.706886804), (0.668635136, 0.647182672), (0.702902382, 0.578089279), (0.729745898, 0.498723058), (0.748524014, 0.426327988), (0.761213854, 0.361580804), (0.768691001, 0.305613031), (0.775834597, 0.243267015), (0.780778935, 0.174469796), (0.78505622, 0.099200266), (0.788120457, 0.017386139), (0.790404417, -0.070778848), (0.790490142, -0.13174174), (0.790534365, -0.163190932)],
                knots=[0, 0, 0, 0, 5.2396e-05, 0.000105644, 0.000163203, 0.000227379, 0.000298237, 0.000375036, 0.000458179, 0.000549065, 0.000599271, 0.000656013, 0.000718406, 0.000787511, 0.000862893, 0.000944577, 0.001033115, 0.001127459, 0.001127459, 0.001127459, 0.001127459], degree=3))
            Line((0.790534365, -0.163190932), (0.790534365, -1.1506083))
            Line((0.790534365, -1.1506083), (0.654850605, -1.1506083))
            Line((0.654850605, -1.1506083), (0.654850605, -0.241103091))
            add(Edge.make_bspline(
                [(0.654850605, -0.241103091), (0.654901746, -0.214778869), (0.654999567, -0.164426518), (0.654336012, -0.092345224), (0.653763884, -0.02697789), (0.653483685, 0.031507299), (0.65219473, 0.083088841), (0.651385129, 0.127800377), (0.649722976, 0.165603399), (0.648504281, 0.188562951), (0.647960414, 0.198809102)],
                knots=[0, 0, 0, 0, 7.8972e-05, 0.000151056, 0.00021625, 0.000275084, 0.000326506, 0.00037104, 0.000409234, 0.000440016, 0.000440016, 0.000440016, 0.000440016], degree=3))
            add(Edge.make_bspline(
                [(0.647960414, 0.198809102), (0.64571324, 0.228557571), (0.641486532, 0.28451144), (0.62687992, 0.362254523), (0.606153204, 0.428513347), (0.578600593, 0.482865252), (0.545764184, 0.526038935), (0.507034395, 0.556869493), (0.463086331, 0.576376873), (0.43173428, 0.578355115), (0.415813979, 0.579359649)],
                knots=[0, 0, 0, 0, 8.9445e-05, 0.000168238, 0.00023679, 0.000297, 0.000350226, 0.000398154, 0.000444225, 0.000491756, 0.000491756, 0.000491756, 0.000491756], degree=3))
            add(Edge.make_bspline(
                [(0.415813979, 0.579359649), (0.406406609, 0.579000598), (0.387683893, 0.578286007), (0.360081539, 0.570938273), (0.33358275, 0.559116182), (0.307478381, 0.542965196), (0.283097594, 0.521327564), (0.258056496, 0.496442104), (0.235236892, 0.465799284), (0.204330303, 0.41932629), (0.17016809, 0.353300208), (0.137666461, 0.265797944), (0.111887842, 0.169787872), (0.101560782, 0.102299758), (0.096215121, 0.067365458)],
                knots=[0, 0, 0, 0, 2.8171e-05, 5.6066e-05, 8.5018e-05, 0.000115019, 0.00014773, 0.000182586, 0.000220751, 0.000262058, 0.000350012, 0.000442939, 0.000541675, 0.000647632, 0.000647632, 0.000647632, 0.000647632], degree=3))
            add(Edge.make_bspline(
                [(0.096215121, 0.067365458), (0.094722013, 0.054299406), (0.091458026, 0.02573656), (0.088018321, -0.020765347), (0.084618429, -0.074640369), (0.082974455, -0.135808744), (0.080627648, -0.204343685), (0.078962715, -0.280139749), (0.078777293, -0.363360428), (0.078394295, -0.421308327), (0.078194622, -0.451518923)],
                knots=[0, 0, 0, 0, 3.945e-05, 8.6238e-05, 0.000139864, 0.000201382, 0.000269787, 0.000345596, 0.00042881, 0.000519444, 0.000519444, 0.000519444, 0.000519444], degree=3))
            Line((0.078194622, -0.451518923), (0.078194622, -1.1506083))
            Line((0.078194622, -1.1506083), (-0.057489139, -1.1506083))
            Line((-0.057489139, -1.1506083), (-0.057489139, 0.78288529))
        make_face()
        Polygon((0.960139066, 0.78288529), (1.109073194, 0.78288529), (1.418071759, -0.572362273), (1.727070323, 0.78288529), (1.876004451, 0.78288529), (1.435032229, -1.1506083), (1.401111288, -1.1506083), align=None)
        with BuildLine():
            Line((2.889922553, -0.540031376), (2.995395476, -0.650804447))
            add(Edge.make_bspline(
                [(2.995395476, -0.650804447), (2.986843686, -0.680395232), (2.970487553, -0.736990493), (2.942521837, -0.817003839), (2.912057191, -0.887868362), (2.879457332, -0.949958174), (2.845538594, -1.004400122), (2.808633959, -1.051024034), (2.770596064, -1.092025781), (2.729664271, -1.125657126), (2.686351339, -1.152060238), (2.640309908, -1.171116269), (2.591364043, -1.182420247), (2.557661232, -1.183821614), (2.540642872, -1.18452924)],
                knots=[0, 0, 0, 0, 9.2394e-05, 0.000176713, 0.000254103, 0.000323567, 0.000386941, 0.00044621, 0.000501698, 0.000554428, 0.000604603, 0.000653324, 0.00070334, 0.000754356, 0.000754356, 0.000754356, 0.000754356], degree=3))
            add(Edge.make_bspline(
                [(2.540642872, -1.18452924), (2.521647414, -1.183640859), (2.484157345, -1.181887521), (2.429827944, -1.167040394), (2.379028756, -1.142547769), (2.331434963, -1.108631038), (2.287208639, -1.064982098), (2.246363966, -1.011876656), (2.208773445, -0.949358119), (2.175199734, -0.878407616), (2.14487345, -0.80181485), (2.118547256, -0.721543549), (2.095394935, -0.638913847), (2.077792903, -0.553454635), (2.063477122, -0.465928955), (2.052550216, -0.375963316), (2.046997499, -0.283399275), (2.046075144, -0.220792035), (2.045609152, -0.189161652)],
                knots=[0, 0, 0, 0, 5.6912e-05, 0.000112323, 0.000167559, 0.000225353, 0.000286821, 0.000353295, 0.000425831, 0.000505245, 0.00058851, 0.000672815, 0.000758581, 0.000845796, 0.000934411, 0.001024609, 0.001117544, 0.001212441, 0.001212441, 0.001212441, 0.001212441], degree=3))
            add(Edge.make_bspline(
                [(2.045609152, -0.189161652), (2.045873668, -0.15947328), (2.04639684, -0.100754205), (2.051786754, -0.01391278), (2.060890014, 0.070583535), (2.073022901, 0.152637188), (2.088213979, 0.232307843), (2.107431802, 0.309412503), (2.130019131, 0.384099099), (2.148006457, 0.4324547), (2.156912237, 0.456396241)],
                knots=[0, 0, 0, 0, 8.9057e-05, 0.000176141, 0.000260893, 0.000343945, 0.000424919, 0.000504105, 0.000582235, 0.000658852, 0.000658852, 0.000658852, 0.000658852], degree=3))
            add(Edge.make_bspline(
                [(2.156912237, 0.456396241), (2.168632995, 0.484695311), (2.191034257, 0.538781819), (2.230346554, 0.612710631), (2.273772183, 0.674835599), (2.319012731, 0.726769821), (2.368669983, 0.766678288), (2.420853593, 0.796196308), (2.477065364, 0.813266793), (2.515446352, 0.815619232), (2.534812711, 0.81680623)],
                knots=[0, 0, 0, 0, 9.1865e-05, 0.000175578, 0.000250565, 0.000318877, 0.000381455, 0.00044076, 0.00049777, 0.000555835, 0.000555835, 0.000555835, 0.000555835], degree=3))
            add(Edge.make_bspline(
                [(2.534812711, 0.81680623), (2.554748952, 0.815766124), (2.594405397, 0.813697184), (2.65183856, 0.794307188), (2.706052042, 0.764148707), (2.757036124, 0.721954325), (2.803761609, 0.667157498), (2.84741589, 0.600847797), (2.889054115, 0.523315753), (2.911878401, 0.466198207), (2.923843493, 0.436255683)],
                knots=[0, 0, 0, 0, 5.9647e-05, 0.000118648, 0.000179857, 0.000245006, 0.000316006, 0.000395092, 0.000482825, 0.000579493, 0.000579493, 0.000579493, 0.000579493], degree=3))
            add(Edge.make_bspline(
                [(2.923843493, 0.436255683), (2.932239182, 0.413201379), (2.949323145, 0.366289341), (2.97040868, 0.292615183), (2.988276388, 0.214921509), (3.003065321, 0.133027608), (3.014880028, 0.047109802), (3.022341437, -0.043136194), (3.02798877, -0.137504611), (3.028867626, -0.201873), (3.029316417, -0.234742915)],
                knots=[0, 0, 0, 0, 7.3588e-05, 0.000149741, 0.00022971, 0.00031267, 0.000399321, 0.000489773, 0.000584265, 0.00068287, 0.00068287, 0.00068287, 0.00068287], degree=3))
            Line((3.029316417, -0.234742915), (2.181292912, -0.234742915))
            add(Edge.make_bspline(
                [(2.181292912, -0.234742915), (2.181678495, -0.260200358), (2.182434624, -0.310122463), (2.188977195, -0.383062876), (2.196139028, -0.452732985), (2.208276721, -0.518418832), (2.222091078, -0.580931888), (2.240558167, -0.639413961), (2.260293019, -0.695188709), (2.284027297, -0.746442985), (2.309787431, -0.793118227), (2.337226816, -0.833957866), (2.365822227, -0.868954932), (2.396201902, -0.897441422), (2.428280632, -0.919689367), (2.462240249, -0.935137296), (2.497484372, -0.945279826), (2.521671877, -0.946482143), (2.533752681, -0.947082659)],
                knots=[0, 0, 0, 0, 7.6352e-05, 0.000149726, 0.000219611, 0.000286359, 0.000350001, 0.000411531, 0.000470216, 0.000527372, 0.000580756, 0.000630002, 0.000674791, 0.000716043, 0.00075456, 0.000791319, 0.000827577, 0.000863758, 0.000863758, 0.000863758, 0.000863758], degree=3))
            add(Edge.make_bspline(
                [(2.533752681, -0.947082659), (2.545639735, -0.946606939), (2.569542184, -0.945650364), (2.604974005, -0.936674712), (2.639639986, -0.922120349), (2.67346179, -0.902275022), (2.70623002, -0.878366002), (2.735712001, -0.849147568), (2.763591626, -0.817379685), (2.789389289, -0.780548935), (2.813785808, -0.735605494), (2.838760192, -0.680839707), (2.864834398, -0.614459415), (2.881140963, -0.566083374), (2.889922553, -0.540031376)],
                knots=[0, 0, 0, 0, 3.561e-05, 7.1604e-05, 0.000108909, 0.000148091, 0.000189008, 0.00023024, 0.000272322, 0.0003157, 0.000364811, 0.00042552, 0.000496187, 0.000578655, 0.000578655, 0.000578655, 0.000578655], degree=3))
        make_face()
        with BuildLine():
            add(Edge.make_bspline(
                [(2.893632656, 0.002703666), (2.889284009, 0.034010969), (2.881026115, 0.093462193), (2.865510163, 0.177480153), (2.846565928, 0.2513368), (2.824740419, 0.316092891), (2.799611473, 0.373076112), (2.771085822, 0.423985739), (2.738043629, 0.468621467), (2.702141544, 0.507162291), (2.664626545, 0.539697143), (2.624200455, 0.561871031), (2.583241391, 0.577163797), (2.555082473, 0.57863361), (2.541172887, 0.579359649)],
                knots=[0, 0, 0, 0, 9.4819e-05, 0.000180058, 0.000256161, 0.000323372, 0.000384829, 0.000442746, 0.000498081, 0.000550958, 0.000600633, 0.000646192, 0.000688765, 0.000730323, 0.000730323, 0.000730323, 0.000730323], degree=3))
            add(Edge.make_bspline(
                [(2.541172887, 0.579359649), (2.529816757, 0.578884512), (2.507133469, 0.577935449), (2.47385806, 0.569147519), (2.442189002, 0.554200788), (2.410982235, 0.534723183), (2.382227004, 0.508241261), (2.354132644, 0.476873625), (2.327269582, 0.439956298), (2.31141713, 0.412390057), (2.303196291, 0.398094625)],
                knots=[0, 0, 0, 0, 3.4024e-05, 6.7962e-05, 0.000102352, 0.000138815, 0.000177856, 0.000219143, 0.000265047, 0.000314495, 0.000314495, 0.000314495, 0.000314495], degree=3))
            add(Edge.make_bspline(
                [(2.303196291, 0.398094625), (2.297196818, 0.386514034), (2.284674217, 0.362342057), (2.268605675, 0.323043588), (2.25313396, 0.279922048), (2.238820492, 0.232510016), (2.225838271, 0.18081587), (2.213491386, 0.125196651), (2.203104027, 0.065346625), (2.196768047, 0.02409169), (2.19348325, 0.002703666)],
                knots=[0, 0, 0, 0, 3.911e-05, 8.1633e-05, 0.000127233, 0.000176527, 0.000230132, 0.000287103, 0.000347404, 0.000412322, 0.000412322, 0.000412322, 0.000412322], degree=3))
            Line((2.19348325, 0.002703666), (2.893632656, 0.002703666))
        make_face(mode=Mode.SUBTRACT)
        with BuildLine():
            Line((3.232842058, 0.78288529), (3.368525818, 0.78288529))
            Line((3.368525818, 0.78288529), (3.368525818, 0.498267402))
            add(Edge.make_bspline(
                [(3.368525818, 0.498267402), (3.377158654, 0.524552332), (3.393329778, 0.573789553), (3.42143135, 0.640457161), (3.449280172, 0.695972089), (3.478235876, 0.740367655), (3.508981153, 0.773639524), (3.5391453, 0.798808716), (3.571522866, 0.813693408), (3.593653396, 0.815789862), (3.604382355, 0.81680623)],
                knots=[0, 0, 0, 0, 8.2969e-05, 0.000155418, 0.000216813, 0.000269145, 0.000313783, 0.000352274, 0.000386446, 0.000418603, 0.000418603, 0.000418603, 0.000418603], degree=3))
            add(Edge.make_bspline(
                [(3.604382355, 0.81680623), (3.612636765, 0.815852155), (3.63030099, 0.813810458), (3.656311976, 0.800158343), (3.682996722, 0.779137474), (3.699041042, 0.760599725), (3.70773522, 0.750554394)],
                knots=[0, 0, 0, 0, 2.4747e-05, 5.2957e-05, 8.6566e-05, 0.000126321, 0.000126321, 0.000126321, 0.000126321], degree=3))
            Line((3.70773522, 0.750554394), (3.642543413, 0.544908694))
            add(Edge.make_bspline(
                [(3.642543413, 0.544908694), (3.636790337, 0.549953037), (3.626169317, 0.559265631), (3.610540938, 0.570655945), (3.595769021, 0.577862983), (3.586068266, 0.578887071), (3.581591724, 0.579359649)],
                knots=[0, 0, 0, 0, 2.2938e-05, 4.2347e-05, 5.8007e-05, 7.1426e-05, 7.1426e-05, 7.1426e-05, 7.1426e-05], degree=3))
            add(Edge.make_bspline(
                [(3.581591724, 0.579359649), (3.571757888, 0.578001124), (3.550680791, 0.575089364), (3.522244285, 0.55270439), (3.494902966, 0.520205459), (3.467988632, 0.474936295), (3.443312282, 0.416541398), (3.422235918, 0.344225662), (3.403069108, 0.258414172), (3.39437154, 0.196066367), (3.389726406, 0.162768103)],
                knots=[0, 0, 0, 0, 2.9319e-05, 6.284e-05, 0.000104922, 0.000157007, 0.00021992, 0.000294699, 0.000382656, 0.000483477, 0.000483477, 0.000483477, 0.000483477], degree=3))
            add(Edge.make_bspline(
                [(3.389726406, 0.162768103), (3.388046347, 0.147406041), (3.38430524, 0.113198246), (3.380334433, 0.056444872), (3.376687708, -0.01087533), (3.37343455, -0.088612162), (3.371563998, -0.176789024), (3.369950645, -0.275372709), (3.368916238, -0.38455846), (3.368659912, -0.460882316), (3.368525818, -0.500810289)],
                knots=[0, 0, 0, 0, 4.6357e-05, 0.000103227, 0.000170641, 0.000248618, 0.000336626, 0.000435222, 0.00054441, 0.000664194, 0.000664194, 0.000664194, 0.000664194], degree=3))
            Line((3.368525818, -0.500810289), (3.368525818, -1.1506083))
            Line((3.368525818, -1.1506083), (3.232842058, -1.1506083))
            Line((3.232842058, -1.1506083), (3.232842058, 0.78288529))
        make_face()
        Polygon((3.911260861, 1.563066914), (4.046944622, 1.563066914), (4.046944622, 0.78288529), (4.216549323, 0.78288529), (4.216549323, 0.545438709), (4.046944622, 0.545438709), (4.046944622, -1.1506083), (3.911260861, -1.1506083), (3.911260861, 0.545438709), (3.74165616, 0.545438709), (3.74165616, 0.78288529), (3.911260861, 0.78288529), align=None)
        with BuildLine():
            Line((5.230467425, -0.540031376), (5.335940348, -0.650804447))
            add(Edge.make_bspline(
                [(5.335940348, -0.650804447), (5.327388558, -0.680395232), (5.311032425, -0.736990493), (5.283066708, -0.817003839), (5.252602063, -0.887868362), (5.220002204, -0.949958174), (5.186083466, -1.004400122), (5.149178831, -1.051024034), (5.111140936, -1.092025781), (5.070209142, -1.125657126), (5.026896211, -1.152060238), (4.98085478, -1.171116269), (4.931908915, -1.182420247), (4.898206104, -1.183821614), (4.881187744, -1.18452924)],
                knots=[0, 0, 0, 0, 9.2394e-05, 0.000176713, 0.000254103, 0.000323567, 0.000386941, 0.00044621, 0.000501698, 0.000554428, 0.000604603, 0.000653324, 0.00070334, 0.000754356, 0.000754356, 0.000754356, 0.000754356], degree=3))
            add(Edge.make_bspline(
                [(4.881187744, -1.18452924), (4.862192286, -1.183640859), (4.824702217, -1.181887521), (4.770372815, -1.167040394), (4.719573628, -1.142547769), (4.671979834, -1.108631038), (4.62775351, -1.064982098), (4.586908837, -1.011876656), (4.549318317, -0.949358119), (4.515744605, -0.878407616), (4.485418322, -0.80181485), (4.459092128, -0.721543549), (4.435939807, -0.638913847), (4.418337775, -0.553454635), (4.404021994, -0.465928955), (4.393095087, -0.375963316), (4.387542371, -0.283399275), (4.386620015, -0.220792035), (4.386154023, -0.189161652)],
                knots=[0, 0, 0, 0, 5.6912e-05, 0.000112323, 0.000167559, 0.000225353, 0.000286821, 0.000353295, 0.000425831, 0.000505245, 0.00058851, 0.000672815, 0.000758581, 0.000845796, 0.000934411, 0.001024609, 0.001117544, 0.001212441, 0.001212441, 0.001212441, 0.001212441], degree=3))
            add(Edge.make_bspline(
                [(4.386154023, -0.189161652), (4.38641854, -0.15947328), (4.386941712, -0.100754205), (4.392331626, -0.01391278), (4.401434885, 0.070583535), (4.413567773, 0.152637188), (4.428758851, 0.232307843), (4.447976673, 0.309412503), (4.470564003, 0.384099099), (4.488551329, 0.4324547), (4.497457108, 0.456396241)],
                knots=[0, 0, 0, 0, 8.9057e-05, 0.000176141, 0.000260893, 0.000343945, 0.000424919, 0.000504105, 0.000582235, 0.000658852, 0.000658852, 0.000658852, 0.000658852], degree=3))
            add(Edge.make_bspline(
                [(4.497457108, 0.456396241), (4.509177866, 0.484695311), (4.531579128, 0.538781819), (4.570891426, 0.612710631), (4.614317055, 0.674835599), (4.659557603, 0.726769821), (4.709214855, 0.766678288), (4.761398465, 0.796196308), (4.817610236, 0.813266793), (4.855991224, 0.815619232), (4.875357583, 0.81680623)],
                knots=[0, 0, 0, 0, 9.1865e-05, 0.000175578, 0.000250565, 0.000318877, 0.000381455, 0.00044076, 0.00049777, 0.000555835, 0.000555835, 0.000555835, 0.000555835], degree=3))
            add(Edge.make_bspline(
                [(4.875357583, 0.81680623), (4.895293824, 0.815766124), (4.934950269, 0.813697184), (4.992383432, 0.794307188), (5.046596914, 0.764148707), (5.097580996, 0.721954325), (5.144306481, 0.667157498), (5.187960762, 0.600847797), (5.229598987, 0.523315753), (5.252423273, 0.466198207), (5.264388365, 0.436255683)],
                knots=[0, 0, 0, 0, 5.9647e-05, 0.000118648, 0.000179857, 0.000245006, 0.000316006, 0.000395092, 0.000482825, 0.000579493, 0.000579493, 0.000579493, 0.000579493], degree=3))
            add(Edge.make_bspline(
                [(5.264388365, 0.436255683), (5.272784054, 0.413201379), (5.289868017, 0.366289341), (5.310953551, 0.292615183), (5.32882126, 0.214921509), (5.343610193, 0.133027608), (5.3554249, 0.047109802), (5.362886308, -0.043136194), (5.368533642, -0.137504611), (5.369412498, -0.201873), (5.369861288, -0.234742915)],
                knots=[0, 0, 0, 0, 7.3588e-05, 0.000149741, 0.00022971, 0.00031267, 0.000399321, 0.000489773, 0.000584265, 0.00068287, 0.00068287, 0.00068287, 0.00068287], degree=3))
            Line((5.369861288, -0.234742915), (4.521837784, -0.234742915))
            add(Edge.make_bspline(
                [(4.521837784, -0.234742915), (4.522223367, -0.260200358), (4.522979496, -0.310122463), (4.529522067, -0.383062876), (4.5366839, -0.452732985), (4.548821593, -0.518418832), (4.56263595, -0.580931888), (4.581103039, -0.639413961), (4.600837891, -0.695188709), (4.624572169, -0.746442985), (4.650332302, -0.793118227), (4.677771688, -0.833957866), (4.706367098, -0.868954932), (4.736746774, -0.897441422), (4.768825504, -0.919689367), (4.802785121, -0.935137296), (4.838029244, -0.945279826), (4.862216749, -0.946482143), (4.874297553, -0.947082659)],
                knots=[0, 0, 0, 0, 7.6352e-05, 0.000149726, 0.000219611, 0.000286359, 0.000350001, 0.000411531, 0.000470216, 0.000527372, 0.000580756, 0.000630002, 0.000674791, 0.000716043, 0.00075456, 0.000791319, 0.000827577, 0.000863758, 0.000863758, 0.000863758, 0.000863758], degree=3))
            add(Edge.make_bspline(
                [(4.874297553, -0.947082659), (4.886184606, -0.946606939), (4.910087056, -0.945650364), (4.945518877, -0.936674712), (4.980184858, -0.922120349), (5.014006662, -0.902275022), (5.046774892, -0.878366002), (5.076256872, -0.849147568), (5.104136498, -0.817379685), (5.129934161, -0.780548935), (5.154330679, -0.735605494), (5.179305064, -0.680839707), (5.20537927, -0.614459415), (5.221685835, -0.566083374), (5.230467425, -0.540031376)],
                knots=[0, 0, 0, 0, 3.561e-05, 7.1604e-05, 0.000108909, 0.000148091, 0.000189008, 0.00023024, 0.000272322, 0.0003157, 0.000364811, 0.00042552, 0.000496187, 0.000578655, 0.000578655, 0.000578655, 0.000578655], degree=3))
        make_face()
        with BuildLine():
            add(Edge.make_bspline(
                [(5.234177528, 0.002703666), (5.229828881, 0.034010969), (5.221570987, 0.093462193), (5.206055035, 0.177480153), (5.1871108, 0.2513368), (5.165285291, 0.316092891), (5.140156345, 0.373076112), (5.111630694, 0.423985739), (5.078588501, 0.468621467), (5.042686416, 0.507162291), (5.005171417, 0.539697143), (4.964745327, 0.561871031), (4.923786263, 0.577163797), (4.895627345, 0.57863361), (4.881717759, 0.579359649)],
                knots=[0, 0, 0, 0, 9.4819e-05, 0.000180058, 0.000256161, 0.000323372, 0.000384829, 0.000442746, 0.000498081, 0.000550958, 0.000600633, 0.000646192, 0.000688765, 0.000730323, 0.000730323, 0.000730323, 0.000730323], degree=3))
            add(Edge.make_bspline(
                [(4.881717759, 0.579359649), (4.870361629, 0.578884512), (4.84767834, 0.577935449), (4.814402932, 0.569147519), (4.782733873, 0.554200788), (4.751527107, 0.534723183), (4.722771876, 0.508241261), (4.694677516, 0.476873625), (4.667814453, 0.439956298), (4.651962002, 0.412390057), (4.643741163, 0.398094625)],
                knots=[0, 0, 0, 0, 3.4024e-05, 6.7962e-05, 0.000102352, 0.000138815, 0.000177856, 0.000219143, 0.000265047, 0.000314495, 0.000314495, 0.000314495, 0.000314495], degree=3))
            add(Edge.make_bspline(
                [(4.643741163, 0.398094625), (4.63774169, 0.386514034), (4.625219089, 0.362342057), (4.609150547, 0.323043588), (4.593678832, 0.279922048), (4.579365364, 0.232510016), (4.566383143, 0.18081587), (4.554036258, 0.125196651), (4.543648899, 0.065346625), (4.537312919, 0.02409169), (4.534028122, 0.002703666)],
                knots=[0, 0, 0, 0, 3.911e-05, 8.1633e-05, 0.000127233, 0.000176527, 0.000230132, 0.000287103, 0.000347404, 0.000412322, 0.000412322, 0.000412322, 0.000412322], degree=3))
            Line((4.534028122, 0.002703666), (5.234177528, 0.002703666))
        make_face(mode=Mode.SUBTRACT)
        with BuildLine():
            Line((5.573386929, 0.78288529), (5.70907069, 0.78288529))
            Line((5.70907069, 0.78288529), (5.70907069, 0.498267402))
            add(Edge.make_bspline(
                [(5.70907069, 0.498267402), (5.717703526, 0.524552332), (5.73387465, 0.573789553), (5.761976222, 0.640457161), (5.789825043, 0.695972089), (5.818780748, 0.740367655), (5.849526025, 0.773639524), (5.879690172, 0.798808716), (5.912067738, 0.813693408), (5.934198268, 0.815789862), (5.944927227, 0.81680623)],
                knots=[0, 0, 0, 0, 8.2969e-05, 0.000155418, 0.000216813, 0.000269145, 0.000313783, 0.000352274, 0.000386446, 0.000418603, 0.000418603, 0.000418603, 0.000418603], degree=3))
            add(Edge.make_bspline(
                [(5.944927227, 0.81680623), (5.953181637, 0.815852155), (5.970845861, 0.813810458), (5.996856848, 0.800158343), (6.023541594, 0.779137474), (6.039585914, 0.760599725), (6.048280092, 0.750554394)],
                knots=[0, 0, 0, 0, 2.4747e-05, 5.2957e-05, 8.6566e-05, 0.000126321, 0.000126321, 0.000126321, 0.000126321], degree=3))
            Line((6.048280092, 0.750554394), (5.983088285, 0.544908694))
            add(Edge.make_bspline(
                [(5.983088285, 0.544908694), (5.977335209, 0.549953037), (5.966714189, 0.559265631), (5.95108581, 0.570655945), (5.936313892, 0.577862983), (5.926613138, 0.578887071), (5.922136596, 0.579359649)],
                knots=[0, 0, 0, 0, 2.2938e-05, 4.2347e-05, 5.8007e-05, 7.1426e-05, 7.1426e-05, 7.1426e-05, 7.1426e-05], degree=3))
            add(Edge.make_bspline(
                [(5.922136596, 0.579359649), (5.912302759, 0.578001124), (5.891225663, 0.575089364), (5.862789157, 0.55270439), (5.835447838, 0.520205459), (5.808533504, 0.474936295), (5.783857153, 0.416541398), (5.76278079, 0.344225662), (5.743613979, 0.258414172), (5.734916412, 0.196066367), (5.730271278, 0.162768103)],
                knots=[0, 0, 0, 0, 2.9319e-05, 6.284e-05, 0.000104922, 0.000157007, 0.00021992, 0.000294699, 0.000382656, 0.000483477, 0.000483477, 0.000483477, 0.000483477], degree=3))
            add(Edge.make_bspline(
                [(5.730271278, 0.162768103), (5.728591219, 0.147406041), (5.724850112, 0.113198246), (5.720879305, 0.056444872), (5.71723258, -0.01087533), (5.713979422, -0.088612162), (5.712108869, -0.176789024), (5.710495517, -0.275372709), (5.70946111, -0.38455846), (5.709204784, -0.460882316), (5.70907069, -0.500810289)],
                knots=[0, 0, 0, 0, 4.6357e-05, 0.000103227, 0.000170641, 0.000248618, 0.000336626, 0.000435222, 0.00054441, 0.000664194, 0.000664194, 0.000664194, 0.000664194], degree=3))
            Line((5.70907069, -0.500810289), (5.70907069, -1.1506083))
            Line((5.70907069, -1.1506083), (5.573386929, -1.1506083))
            Line((5.573386929, -1.1506083), (5.573386929, 0.78288529))
        make_face()
    extrude(amount=-EXTRUDE_3_DEPTH)


solid = part.part
